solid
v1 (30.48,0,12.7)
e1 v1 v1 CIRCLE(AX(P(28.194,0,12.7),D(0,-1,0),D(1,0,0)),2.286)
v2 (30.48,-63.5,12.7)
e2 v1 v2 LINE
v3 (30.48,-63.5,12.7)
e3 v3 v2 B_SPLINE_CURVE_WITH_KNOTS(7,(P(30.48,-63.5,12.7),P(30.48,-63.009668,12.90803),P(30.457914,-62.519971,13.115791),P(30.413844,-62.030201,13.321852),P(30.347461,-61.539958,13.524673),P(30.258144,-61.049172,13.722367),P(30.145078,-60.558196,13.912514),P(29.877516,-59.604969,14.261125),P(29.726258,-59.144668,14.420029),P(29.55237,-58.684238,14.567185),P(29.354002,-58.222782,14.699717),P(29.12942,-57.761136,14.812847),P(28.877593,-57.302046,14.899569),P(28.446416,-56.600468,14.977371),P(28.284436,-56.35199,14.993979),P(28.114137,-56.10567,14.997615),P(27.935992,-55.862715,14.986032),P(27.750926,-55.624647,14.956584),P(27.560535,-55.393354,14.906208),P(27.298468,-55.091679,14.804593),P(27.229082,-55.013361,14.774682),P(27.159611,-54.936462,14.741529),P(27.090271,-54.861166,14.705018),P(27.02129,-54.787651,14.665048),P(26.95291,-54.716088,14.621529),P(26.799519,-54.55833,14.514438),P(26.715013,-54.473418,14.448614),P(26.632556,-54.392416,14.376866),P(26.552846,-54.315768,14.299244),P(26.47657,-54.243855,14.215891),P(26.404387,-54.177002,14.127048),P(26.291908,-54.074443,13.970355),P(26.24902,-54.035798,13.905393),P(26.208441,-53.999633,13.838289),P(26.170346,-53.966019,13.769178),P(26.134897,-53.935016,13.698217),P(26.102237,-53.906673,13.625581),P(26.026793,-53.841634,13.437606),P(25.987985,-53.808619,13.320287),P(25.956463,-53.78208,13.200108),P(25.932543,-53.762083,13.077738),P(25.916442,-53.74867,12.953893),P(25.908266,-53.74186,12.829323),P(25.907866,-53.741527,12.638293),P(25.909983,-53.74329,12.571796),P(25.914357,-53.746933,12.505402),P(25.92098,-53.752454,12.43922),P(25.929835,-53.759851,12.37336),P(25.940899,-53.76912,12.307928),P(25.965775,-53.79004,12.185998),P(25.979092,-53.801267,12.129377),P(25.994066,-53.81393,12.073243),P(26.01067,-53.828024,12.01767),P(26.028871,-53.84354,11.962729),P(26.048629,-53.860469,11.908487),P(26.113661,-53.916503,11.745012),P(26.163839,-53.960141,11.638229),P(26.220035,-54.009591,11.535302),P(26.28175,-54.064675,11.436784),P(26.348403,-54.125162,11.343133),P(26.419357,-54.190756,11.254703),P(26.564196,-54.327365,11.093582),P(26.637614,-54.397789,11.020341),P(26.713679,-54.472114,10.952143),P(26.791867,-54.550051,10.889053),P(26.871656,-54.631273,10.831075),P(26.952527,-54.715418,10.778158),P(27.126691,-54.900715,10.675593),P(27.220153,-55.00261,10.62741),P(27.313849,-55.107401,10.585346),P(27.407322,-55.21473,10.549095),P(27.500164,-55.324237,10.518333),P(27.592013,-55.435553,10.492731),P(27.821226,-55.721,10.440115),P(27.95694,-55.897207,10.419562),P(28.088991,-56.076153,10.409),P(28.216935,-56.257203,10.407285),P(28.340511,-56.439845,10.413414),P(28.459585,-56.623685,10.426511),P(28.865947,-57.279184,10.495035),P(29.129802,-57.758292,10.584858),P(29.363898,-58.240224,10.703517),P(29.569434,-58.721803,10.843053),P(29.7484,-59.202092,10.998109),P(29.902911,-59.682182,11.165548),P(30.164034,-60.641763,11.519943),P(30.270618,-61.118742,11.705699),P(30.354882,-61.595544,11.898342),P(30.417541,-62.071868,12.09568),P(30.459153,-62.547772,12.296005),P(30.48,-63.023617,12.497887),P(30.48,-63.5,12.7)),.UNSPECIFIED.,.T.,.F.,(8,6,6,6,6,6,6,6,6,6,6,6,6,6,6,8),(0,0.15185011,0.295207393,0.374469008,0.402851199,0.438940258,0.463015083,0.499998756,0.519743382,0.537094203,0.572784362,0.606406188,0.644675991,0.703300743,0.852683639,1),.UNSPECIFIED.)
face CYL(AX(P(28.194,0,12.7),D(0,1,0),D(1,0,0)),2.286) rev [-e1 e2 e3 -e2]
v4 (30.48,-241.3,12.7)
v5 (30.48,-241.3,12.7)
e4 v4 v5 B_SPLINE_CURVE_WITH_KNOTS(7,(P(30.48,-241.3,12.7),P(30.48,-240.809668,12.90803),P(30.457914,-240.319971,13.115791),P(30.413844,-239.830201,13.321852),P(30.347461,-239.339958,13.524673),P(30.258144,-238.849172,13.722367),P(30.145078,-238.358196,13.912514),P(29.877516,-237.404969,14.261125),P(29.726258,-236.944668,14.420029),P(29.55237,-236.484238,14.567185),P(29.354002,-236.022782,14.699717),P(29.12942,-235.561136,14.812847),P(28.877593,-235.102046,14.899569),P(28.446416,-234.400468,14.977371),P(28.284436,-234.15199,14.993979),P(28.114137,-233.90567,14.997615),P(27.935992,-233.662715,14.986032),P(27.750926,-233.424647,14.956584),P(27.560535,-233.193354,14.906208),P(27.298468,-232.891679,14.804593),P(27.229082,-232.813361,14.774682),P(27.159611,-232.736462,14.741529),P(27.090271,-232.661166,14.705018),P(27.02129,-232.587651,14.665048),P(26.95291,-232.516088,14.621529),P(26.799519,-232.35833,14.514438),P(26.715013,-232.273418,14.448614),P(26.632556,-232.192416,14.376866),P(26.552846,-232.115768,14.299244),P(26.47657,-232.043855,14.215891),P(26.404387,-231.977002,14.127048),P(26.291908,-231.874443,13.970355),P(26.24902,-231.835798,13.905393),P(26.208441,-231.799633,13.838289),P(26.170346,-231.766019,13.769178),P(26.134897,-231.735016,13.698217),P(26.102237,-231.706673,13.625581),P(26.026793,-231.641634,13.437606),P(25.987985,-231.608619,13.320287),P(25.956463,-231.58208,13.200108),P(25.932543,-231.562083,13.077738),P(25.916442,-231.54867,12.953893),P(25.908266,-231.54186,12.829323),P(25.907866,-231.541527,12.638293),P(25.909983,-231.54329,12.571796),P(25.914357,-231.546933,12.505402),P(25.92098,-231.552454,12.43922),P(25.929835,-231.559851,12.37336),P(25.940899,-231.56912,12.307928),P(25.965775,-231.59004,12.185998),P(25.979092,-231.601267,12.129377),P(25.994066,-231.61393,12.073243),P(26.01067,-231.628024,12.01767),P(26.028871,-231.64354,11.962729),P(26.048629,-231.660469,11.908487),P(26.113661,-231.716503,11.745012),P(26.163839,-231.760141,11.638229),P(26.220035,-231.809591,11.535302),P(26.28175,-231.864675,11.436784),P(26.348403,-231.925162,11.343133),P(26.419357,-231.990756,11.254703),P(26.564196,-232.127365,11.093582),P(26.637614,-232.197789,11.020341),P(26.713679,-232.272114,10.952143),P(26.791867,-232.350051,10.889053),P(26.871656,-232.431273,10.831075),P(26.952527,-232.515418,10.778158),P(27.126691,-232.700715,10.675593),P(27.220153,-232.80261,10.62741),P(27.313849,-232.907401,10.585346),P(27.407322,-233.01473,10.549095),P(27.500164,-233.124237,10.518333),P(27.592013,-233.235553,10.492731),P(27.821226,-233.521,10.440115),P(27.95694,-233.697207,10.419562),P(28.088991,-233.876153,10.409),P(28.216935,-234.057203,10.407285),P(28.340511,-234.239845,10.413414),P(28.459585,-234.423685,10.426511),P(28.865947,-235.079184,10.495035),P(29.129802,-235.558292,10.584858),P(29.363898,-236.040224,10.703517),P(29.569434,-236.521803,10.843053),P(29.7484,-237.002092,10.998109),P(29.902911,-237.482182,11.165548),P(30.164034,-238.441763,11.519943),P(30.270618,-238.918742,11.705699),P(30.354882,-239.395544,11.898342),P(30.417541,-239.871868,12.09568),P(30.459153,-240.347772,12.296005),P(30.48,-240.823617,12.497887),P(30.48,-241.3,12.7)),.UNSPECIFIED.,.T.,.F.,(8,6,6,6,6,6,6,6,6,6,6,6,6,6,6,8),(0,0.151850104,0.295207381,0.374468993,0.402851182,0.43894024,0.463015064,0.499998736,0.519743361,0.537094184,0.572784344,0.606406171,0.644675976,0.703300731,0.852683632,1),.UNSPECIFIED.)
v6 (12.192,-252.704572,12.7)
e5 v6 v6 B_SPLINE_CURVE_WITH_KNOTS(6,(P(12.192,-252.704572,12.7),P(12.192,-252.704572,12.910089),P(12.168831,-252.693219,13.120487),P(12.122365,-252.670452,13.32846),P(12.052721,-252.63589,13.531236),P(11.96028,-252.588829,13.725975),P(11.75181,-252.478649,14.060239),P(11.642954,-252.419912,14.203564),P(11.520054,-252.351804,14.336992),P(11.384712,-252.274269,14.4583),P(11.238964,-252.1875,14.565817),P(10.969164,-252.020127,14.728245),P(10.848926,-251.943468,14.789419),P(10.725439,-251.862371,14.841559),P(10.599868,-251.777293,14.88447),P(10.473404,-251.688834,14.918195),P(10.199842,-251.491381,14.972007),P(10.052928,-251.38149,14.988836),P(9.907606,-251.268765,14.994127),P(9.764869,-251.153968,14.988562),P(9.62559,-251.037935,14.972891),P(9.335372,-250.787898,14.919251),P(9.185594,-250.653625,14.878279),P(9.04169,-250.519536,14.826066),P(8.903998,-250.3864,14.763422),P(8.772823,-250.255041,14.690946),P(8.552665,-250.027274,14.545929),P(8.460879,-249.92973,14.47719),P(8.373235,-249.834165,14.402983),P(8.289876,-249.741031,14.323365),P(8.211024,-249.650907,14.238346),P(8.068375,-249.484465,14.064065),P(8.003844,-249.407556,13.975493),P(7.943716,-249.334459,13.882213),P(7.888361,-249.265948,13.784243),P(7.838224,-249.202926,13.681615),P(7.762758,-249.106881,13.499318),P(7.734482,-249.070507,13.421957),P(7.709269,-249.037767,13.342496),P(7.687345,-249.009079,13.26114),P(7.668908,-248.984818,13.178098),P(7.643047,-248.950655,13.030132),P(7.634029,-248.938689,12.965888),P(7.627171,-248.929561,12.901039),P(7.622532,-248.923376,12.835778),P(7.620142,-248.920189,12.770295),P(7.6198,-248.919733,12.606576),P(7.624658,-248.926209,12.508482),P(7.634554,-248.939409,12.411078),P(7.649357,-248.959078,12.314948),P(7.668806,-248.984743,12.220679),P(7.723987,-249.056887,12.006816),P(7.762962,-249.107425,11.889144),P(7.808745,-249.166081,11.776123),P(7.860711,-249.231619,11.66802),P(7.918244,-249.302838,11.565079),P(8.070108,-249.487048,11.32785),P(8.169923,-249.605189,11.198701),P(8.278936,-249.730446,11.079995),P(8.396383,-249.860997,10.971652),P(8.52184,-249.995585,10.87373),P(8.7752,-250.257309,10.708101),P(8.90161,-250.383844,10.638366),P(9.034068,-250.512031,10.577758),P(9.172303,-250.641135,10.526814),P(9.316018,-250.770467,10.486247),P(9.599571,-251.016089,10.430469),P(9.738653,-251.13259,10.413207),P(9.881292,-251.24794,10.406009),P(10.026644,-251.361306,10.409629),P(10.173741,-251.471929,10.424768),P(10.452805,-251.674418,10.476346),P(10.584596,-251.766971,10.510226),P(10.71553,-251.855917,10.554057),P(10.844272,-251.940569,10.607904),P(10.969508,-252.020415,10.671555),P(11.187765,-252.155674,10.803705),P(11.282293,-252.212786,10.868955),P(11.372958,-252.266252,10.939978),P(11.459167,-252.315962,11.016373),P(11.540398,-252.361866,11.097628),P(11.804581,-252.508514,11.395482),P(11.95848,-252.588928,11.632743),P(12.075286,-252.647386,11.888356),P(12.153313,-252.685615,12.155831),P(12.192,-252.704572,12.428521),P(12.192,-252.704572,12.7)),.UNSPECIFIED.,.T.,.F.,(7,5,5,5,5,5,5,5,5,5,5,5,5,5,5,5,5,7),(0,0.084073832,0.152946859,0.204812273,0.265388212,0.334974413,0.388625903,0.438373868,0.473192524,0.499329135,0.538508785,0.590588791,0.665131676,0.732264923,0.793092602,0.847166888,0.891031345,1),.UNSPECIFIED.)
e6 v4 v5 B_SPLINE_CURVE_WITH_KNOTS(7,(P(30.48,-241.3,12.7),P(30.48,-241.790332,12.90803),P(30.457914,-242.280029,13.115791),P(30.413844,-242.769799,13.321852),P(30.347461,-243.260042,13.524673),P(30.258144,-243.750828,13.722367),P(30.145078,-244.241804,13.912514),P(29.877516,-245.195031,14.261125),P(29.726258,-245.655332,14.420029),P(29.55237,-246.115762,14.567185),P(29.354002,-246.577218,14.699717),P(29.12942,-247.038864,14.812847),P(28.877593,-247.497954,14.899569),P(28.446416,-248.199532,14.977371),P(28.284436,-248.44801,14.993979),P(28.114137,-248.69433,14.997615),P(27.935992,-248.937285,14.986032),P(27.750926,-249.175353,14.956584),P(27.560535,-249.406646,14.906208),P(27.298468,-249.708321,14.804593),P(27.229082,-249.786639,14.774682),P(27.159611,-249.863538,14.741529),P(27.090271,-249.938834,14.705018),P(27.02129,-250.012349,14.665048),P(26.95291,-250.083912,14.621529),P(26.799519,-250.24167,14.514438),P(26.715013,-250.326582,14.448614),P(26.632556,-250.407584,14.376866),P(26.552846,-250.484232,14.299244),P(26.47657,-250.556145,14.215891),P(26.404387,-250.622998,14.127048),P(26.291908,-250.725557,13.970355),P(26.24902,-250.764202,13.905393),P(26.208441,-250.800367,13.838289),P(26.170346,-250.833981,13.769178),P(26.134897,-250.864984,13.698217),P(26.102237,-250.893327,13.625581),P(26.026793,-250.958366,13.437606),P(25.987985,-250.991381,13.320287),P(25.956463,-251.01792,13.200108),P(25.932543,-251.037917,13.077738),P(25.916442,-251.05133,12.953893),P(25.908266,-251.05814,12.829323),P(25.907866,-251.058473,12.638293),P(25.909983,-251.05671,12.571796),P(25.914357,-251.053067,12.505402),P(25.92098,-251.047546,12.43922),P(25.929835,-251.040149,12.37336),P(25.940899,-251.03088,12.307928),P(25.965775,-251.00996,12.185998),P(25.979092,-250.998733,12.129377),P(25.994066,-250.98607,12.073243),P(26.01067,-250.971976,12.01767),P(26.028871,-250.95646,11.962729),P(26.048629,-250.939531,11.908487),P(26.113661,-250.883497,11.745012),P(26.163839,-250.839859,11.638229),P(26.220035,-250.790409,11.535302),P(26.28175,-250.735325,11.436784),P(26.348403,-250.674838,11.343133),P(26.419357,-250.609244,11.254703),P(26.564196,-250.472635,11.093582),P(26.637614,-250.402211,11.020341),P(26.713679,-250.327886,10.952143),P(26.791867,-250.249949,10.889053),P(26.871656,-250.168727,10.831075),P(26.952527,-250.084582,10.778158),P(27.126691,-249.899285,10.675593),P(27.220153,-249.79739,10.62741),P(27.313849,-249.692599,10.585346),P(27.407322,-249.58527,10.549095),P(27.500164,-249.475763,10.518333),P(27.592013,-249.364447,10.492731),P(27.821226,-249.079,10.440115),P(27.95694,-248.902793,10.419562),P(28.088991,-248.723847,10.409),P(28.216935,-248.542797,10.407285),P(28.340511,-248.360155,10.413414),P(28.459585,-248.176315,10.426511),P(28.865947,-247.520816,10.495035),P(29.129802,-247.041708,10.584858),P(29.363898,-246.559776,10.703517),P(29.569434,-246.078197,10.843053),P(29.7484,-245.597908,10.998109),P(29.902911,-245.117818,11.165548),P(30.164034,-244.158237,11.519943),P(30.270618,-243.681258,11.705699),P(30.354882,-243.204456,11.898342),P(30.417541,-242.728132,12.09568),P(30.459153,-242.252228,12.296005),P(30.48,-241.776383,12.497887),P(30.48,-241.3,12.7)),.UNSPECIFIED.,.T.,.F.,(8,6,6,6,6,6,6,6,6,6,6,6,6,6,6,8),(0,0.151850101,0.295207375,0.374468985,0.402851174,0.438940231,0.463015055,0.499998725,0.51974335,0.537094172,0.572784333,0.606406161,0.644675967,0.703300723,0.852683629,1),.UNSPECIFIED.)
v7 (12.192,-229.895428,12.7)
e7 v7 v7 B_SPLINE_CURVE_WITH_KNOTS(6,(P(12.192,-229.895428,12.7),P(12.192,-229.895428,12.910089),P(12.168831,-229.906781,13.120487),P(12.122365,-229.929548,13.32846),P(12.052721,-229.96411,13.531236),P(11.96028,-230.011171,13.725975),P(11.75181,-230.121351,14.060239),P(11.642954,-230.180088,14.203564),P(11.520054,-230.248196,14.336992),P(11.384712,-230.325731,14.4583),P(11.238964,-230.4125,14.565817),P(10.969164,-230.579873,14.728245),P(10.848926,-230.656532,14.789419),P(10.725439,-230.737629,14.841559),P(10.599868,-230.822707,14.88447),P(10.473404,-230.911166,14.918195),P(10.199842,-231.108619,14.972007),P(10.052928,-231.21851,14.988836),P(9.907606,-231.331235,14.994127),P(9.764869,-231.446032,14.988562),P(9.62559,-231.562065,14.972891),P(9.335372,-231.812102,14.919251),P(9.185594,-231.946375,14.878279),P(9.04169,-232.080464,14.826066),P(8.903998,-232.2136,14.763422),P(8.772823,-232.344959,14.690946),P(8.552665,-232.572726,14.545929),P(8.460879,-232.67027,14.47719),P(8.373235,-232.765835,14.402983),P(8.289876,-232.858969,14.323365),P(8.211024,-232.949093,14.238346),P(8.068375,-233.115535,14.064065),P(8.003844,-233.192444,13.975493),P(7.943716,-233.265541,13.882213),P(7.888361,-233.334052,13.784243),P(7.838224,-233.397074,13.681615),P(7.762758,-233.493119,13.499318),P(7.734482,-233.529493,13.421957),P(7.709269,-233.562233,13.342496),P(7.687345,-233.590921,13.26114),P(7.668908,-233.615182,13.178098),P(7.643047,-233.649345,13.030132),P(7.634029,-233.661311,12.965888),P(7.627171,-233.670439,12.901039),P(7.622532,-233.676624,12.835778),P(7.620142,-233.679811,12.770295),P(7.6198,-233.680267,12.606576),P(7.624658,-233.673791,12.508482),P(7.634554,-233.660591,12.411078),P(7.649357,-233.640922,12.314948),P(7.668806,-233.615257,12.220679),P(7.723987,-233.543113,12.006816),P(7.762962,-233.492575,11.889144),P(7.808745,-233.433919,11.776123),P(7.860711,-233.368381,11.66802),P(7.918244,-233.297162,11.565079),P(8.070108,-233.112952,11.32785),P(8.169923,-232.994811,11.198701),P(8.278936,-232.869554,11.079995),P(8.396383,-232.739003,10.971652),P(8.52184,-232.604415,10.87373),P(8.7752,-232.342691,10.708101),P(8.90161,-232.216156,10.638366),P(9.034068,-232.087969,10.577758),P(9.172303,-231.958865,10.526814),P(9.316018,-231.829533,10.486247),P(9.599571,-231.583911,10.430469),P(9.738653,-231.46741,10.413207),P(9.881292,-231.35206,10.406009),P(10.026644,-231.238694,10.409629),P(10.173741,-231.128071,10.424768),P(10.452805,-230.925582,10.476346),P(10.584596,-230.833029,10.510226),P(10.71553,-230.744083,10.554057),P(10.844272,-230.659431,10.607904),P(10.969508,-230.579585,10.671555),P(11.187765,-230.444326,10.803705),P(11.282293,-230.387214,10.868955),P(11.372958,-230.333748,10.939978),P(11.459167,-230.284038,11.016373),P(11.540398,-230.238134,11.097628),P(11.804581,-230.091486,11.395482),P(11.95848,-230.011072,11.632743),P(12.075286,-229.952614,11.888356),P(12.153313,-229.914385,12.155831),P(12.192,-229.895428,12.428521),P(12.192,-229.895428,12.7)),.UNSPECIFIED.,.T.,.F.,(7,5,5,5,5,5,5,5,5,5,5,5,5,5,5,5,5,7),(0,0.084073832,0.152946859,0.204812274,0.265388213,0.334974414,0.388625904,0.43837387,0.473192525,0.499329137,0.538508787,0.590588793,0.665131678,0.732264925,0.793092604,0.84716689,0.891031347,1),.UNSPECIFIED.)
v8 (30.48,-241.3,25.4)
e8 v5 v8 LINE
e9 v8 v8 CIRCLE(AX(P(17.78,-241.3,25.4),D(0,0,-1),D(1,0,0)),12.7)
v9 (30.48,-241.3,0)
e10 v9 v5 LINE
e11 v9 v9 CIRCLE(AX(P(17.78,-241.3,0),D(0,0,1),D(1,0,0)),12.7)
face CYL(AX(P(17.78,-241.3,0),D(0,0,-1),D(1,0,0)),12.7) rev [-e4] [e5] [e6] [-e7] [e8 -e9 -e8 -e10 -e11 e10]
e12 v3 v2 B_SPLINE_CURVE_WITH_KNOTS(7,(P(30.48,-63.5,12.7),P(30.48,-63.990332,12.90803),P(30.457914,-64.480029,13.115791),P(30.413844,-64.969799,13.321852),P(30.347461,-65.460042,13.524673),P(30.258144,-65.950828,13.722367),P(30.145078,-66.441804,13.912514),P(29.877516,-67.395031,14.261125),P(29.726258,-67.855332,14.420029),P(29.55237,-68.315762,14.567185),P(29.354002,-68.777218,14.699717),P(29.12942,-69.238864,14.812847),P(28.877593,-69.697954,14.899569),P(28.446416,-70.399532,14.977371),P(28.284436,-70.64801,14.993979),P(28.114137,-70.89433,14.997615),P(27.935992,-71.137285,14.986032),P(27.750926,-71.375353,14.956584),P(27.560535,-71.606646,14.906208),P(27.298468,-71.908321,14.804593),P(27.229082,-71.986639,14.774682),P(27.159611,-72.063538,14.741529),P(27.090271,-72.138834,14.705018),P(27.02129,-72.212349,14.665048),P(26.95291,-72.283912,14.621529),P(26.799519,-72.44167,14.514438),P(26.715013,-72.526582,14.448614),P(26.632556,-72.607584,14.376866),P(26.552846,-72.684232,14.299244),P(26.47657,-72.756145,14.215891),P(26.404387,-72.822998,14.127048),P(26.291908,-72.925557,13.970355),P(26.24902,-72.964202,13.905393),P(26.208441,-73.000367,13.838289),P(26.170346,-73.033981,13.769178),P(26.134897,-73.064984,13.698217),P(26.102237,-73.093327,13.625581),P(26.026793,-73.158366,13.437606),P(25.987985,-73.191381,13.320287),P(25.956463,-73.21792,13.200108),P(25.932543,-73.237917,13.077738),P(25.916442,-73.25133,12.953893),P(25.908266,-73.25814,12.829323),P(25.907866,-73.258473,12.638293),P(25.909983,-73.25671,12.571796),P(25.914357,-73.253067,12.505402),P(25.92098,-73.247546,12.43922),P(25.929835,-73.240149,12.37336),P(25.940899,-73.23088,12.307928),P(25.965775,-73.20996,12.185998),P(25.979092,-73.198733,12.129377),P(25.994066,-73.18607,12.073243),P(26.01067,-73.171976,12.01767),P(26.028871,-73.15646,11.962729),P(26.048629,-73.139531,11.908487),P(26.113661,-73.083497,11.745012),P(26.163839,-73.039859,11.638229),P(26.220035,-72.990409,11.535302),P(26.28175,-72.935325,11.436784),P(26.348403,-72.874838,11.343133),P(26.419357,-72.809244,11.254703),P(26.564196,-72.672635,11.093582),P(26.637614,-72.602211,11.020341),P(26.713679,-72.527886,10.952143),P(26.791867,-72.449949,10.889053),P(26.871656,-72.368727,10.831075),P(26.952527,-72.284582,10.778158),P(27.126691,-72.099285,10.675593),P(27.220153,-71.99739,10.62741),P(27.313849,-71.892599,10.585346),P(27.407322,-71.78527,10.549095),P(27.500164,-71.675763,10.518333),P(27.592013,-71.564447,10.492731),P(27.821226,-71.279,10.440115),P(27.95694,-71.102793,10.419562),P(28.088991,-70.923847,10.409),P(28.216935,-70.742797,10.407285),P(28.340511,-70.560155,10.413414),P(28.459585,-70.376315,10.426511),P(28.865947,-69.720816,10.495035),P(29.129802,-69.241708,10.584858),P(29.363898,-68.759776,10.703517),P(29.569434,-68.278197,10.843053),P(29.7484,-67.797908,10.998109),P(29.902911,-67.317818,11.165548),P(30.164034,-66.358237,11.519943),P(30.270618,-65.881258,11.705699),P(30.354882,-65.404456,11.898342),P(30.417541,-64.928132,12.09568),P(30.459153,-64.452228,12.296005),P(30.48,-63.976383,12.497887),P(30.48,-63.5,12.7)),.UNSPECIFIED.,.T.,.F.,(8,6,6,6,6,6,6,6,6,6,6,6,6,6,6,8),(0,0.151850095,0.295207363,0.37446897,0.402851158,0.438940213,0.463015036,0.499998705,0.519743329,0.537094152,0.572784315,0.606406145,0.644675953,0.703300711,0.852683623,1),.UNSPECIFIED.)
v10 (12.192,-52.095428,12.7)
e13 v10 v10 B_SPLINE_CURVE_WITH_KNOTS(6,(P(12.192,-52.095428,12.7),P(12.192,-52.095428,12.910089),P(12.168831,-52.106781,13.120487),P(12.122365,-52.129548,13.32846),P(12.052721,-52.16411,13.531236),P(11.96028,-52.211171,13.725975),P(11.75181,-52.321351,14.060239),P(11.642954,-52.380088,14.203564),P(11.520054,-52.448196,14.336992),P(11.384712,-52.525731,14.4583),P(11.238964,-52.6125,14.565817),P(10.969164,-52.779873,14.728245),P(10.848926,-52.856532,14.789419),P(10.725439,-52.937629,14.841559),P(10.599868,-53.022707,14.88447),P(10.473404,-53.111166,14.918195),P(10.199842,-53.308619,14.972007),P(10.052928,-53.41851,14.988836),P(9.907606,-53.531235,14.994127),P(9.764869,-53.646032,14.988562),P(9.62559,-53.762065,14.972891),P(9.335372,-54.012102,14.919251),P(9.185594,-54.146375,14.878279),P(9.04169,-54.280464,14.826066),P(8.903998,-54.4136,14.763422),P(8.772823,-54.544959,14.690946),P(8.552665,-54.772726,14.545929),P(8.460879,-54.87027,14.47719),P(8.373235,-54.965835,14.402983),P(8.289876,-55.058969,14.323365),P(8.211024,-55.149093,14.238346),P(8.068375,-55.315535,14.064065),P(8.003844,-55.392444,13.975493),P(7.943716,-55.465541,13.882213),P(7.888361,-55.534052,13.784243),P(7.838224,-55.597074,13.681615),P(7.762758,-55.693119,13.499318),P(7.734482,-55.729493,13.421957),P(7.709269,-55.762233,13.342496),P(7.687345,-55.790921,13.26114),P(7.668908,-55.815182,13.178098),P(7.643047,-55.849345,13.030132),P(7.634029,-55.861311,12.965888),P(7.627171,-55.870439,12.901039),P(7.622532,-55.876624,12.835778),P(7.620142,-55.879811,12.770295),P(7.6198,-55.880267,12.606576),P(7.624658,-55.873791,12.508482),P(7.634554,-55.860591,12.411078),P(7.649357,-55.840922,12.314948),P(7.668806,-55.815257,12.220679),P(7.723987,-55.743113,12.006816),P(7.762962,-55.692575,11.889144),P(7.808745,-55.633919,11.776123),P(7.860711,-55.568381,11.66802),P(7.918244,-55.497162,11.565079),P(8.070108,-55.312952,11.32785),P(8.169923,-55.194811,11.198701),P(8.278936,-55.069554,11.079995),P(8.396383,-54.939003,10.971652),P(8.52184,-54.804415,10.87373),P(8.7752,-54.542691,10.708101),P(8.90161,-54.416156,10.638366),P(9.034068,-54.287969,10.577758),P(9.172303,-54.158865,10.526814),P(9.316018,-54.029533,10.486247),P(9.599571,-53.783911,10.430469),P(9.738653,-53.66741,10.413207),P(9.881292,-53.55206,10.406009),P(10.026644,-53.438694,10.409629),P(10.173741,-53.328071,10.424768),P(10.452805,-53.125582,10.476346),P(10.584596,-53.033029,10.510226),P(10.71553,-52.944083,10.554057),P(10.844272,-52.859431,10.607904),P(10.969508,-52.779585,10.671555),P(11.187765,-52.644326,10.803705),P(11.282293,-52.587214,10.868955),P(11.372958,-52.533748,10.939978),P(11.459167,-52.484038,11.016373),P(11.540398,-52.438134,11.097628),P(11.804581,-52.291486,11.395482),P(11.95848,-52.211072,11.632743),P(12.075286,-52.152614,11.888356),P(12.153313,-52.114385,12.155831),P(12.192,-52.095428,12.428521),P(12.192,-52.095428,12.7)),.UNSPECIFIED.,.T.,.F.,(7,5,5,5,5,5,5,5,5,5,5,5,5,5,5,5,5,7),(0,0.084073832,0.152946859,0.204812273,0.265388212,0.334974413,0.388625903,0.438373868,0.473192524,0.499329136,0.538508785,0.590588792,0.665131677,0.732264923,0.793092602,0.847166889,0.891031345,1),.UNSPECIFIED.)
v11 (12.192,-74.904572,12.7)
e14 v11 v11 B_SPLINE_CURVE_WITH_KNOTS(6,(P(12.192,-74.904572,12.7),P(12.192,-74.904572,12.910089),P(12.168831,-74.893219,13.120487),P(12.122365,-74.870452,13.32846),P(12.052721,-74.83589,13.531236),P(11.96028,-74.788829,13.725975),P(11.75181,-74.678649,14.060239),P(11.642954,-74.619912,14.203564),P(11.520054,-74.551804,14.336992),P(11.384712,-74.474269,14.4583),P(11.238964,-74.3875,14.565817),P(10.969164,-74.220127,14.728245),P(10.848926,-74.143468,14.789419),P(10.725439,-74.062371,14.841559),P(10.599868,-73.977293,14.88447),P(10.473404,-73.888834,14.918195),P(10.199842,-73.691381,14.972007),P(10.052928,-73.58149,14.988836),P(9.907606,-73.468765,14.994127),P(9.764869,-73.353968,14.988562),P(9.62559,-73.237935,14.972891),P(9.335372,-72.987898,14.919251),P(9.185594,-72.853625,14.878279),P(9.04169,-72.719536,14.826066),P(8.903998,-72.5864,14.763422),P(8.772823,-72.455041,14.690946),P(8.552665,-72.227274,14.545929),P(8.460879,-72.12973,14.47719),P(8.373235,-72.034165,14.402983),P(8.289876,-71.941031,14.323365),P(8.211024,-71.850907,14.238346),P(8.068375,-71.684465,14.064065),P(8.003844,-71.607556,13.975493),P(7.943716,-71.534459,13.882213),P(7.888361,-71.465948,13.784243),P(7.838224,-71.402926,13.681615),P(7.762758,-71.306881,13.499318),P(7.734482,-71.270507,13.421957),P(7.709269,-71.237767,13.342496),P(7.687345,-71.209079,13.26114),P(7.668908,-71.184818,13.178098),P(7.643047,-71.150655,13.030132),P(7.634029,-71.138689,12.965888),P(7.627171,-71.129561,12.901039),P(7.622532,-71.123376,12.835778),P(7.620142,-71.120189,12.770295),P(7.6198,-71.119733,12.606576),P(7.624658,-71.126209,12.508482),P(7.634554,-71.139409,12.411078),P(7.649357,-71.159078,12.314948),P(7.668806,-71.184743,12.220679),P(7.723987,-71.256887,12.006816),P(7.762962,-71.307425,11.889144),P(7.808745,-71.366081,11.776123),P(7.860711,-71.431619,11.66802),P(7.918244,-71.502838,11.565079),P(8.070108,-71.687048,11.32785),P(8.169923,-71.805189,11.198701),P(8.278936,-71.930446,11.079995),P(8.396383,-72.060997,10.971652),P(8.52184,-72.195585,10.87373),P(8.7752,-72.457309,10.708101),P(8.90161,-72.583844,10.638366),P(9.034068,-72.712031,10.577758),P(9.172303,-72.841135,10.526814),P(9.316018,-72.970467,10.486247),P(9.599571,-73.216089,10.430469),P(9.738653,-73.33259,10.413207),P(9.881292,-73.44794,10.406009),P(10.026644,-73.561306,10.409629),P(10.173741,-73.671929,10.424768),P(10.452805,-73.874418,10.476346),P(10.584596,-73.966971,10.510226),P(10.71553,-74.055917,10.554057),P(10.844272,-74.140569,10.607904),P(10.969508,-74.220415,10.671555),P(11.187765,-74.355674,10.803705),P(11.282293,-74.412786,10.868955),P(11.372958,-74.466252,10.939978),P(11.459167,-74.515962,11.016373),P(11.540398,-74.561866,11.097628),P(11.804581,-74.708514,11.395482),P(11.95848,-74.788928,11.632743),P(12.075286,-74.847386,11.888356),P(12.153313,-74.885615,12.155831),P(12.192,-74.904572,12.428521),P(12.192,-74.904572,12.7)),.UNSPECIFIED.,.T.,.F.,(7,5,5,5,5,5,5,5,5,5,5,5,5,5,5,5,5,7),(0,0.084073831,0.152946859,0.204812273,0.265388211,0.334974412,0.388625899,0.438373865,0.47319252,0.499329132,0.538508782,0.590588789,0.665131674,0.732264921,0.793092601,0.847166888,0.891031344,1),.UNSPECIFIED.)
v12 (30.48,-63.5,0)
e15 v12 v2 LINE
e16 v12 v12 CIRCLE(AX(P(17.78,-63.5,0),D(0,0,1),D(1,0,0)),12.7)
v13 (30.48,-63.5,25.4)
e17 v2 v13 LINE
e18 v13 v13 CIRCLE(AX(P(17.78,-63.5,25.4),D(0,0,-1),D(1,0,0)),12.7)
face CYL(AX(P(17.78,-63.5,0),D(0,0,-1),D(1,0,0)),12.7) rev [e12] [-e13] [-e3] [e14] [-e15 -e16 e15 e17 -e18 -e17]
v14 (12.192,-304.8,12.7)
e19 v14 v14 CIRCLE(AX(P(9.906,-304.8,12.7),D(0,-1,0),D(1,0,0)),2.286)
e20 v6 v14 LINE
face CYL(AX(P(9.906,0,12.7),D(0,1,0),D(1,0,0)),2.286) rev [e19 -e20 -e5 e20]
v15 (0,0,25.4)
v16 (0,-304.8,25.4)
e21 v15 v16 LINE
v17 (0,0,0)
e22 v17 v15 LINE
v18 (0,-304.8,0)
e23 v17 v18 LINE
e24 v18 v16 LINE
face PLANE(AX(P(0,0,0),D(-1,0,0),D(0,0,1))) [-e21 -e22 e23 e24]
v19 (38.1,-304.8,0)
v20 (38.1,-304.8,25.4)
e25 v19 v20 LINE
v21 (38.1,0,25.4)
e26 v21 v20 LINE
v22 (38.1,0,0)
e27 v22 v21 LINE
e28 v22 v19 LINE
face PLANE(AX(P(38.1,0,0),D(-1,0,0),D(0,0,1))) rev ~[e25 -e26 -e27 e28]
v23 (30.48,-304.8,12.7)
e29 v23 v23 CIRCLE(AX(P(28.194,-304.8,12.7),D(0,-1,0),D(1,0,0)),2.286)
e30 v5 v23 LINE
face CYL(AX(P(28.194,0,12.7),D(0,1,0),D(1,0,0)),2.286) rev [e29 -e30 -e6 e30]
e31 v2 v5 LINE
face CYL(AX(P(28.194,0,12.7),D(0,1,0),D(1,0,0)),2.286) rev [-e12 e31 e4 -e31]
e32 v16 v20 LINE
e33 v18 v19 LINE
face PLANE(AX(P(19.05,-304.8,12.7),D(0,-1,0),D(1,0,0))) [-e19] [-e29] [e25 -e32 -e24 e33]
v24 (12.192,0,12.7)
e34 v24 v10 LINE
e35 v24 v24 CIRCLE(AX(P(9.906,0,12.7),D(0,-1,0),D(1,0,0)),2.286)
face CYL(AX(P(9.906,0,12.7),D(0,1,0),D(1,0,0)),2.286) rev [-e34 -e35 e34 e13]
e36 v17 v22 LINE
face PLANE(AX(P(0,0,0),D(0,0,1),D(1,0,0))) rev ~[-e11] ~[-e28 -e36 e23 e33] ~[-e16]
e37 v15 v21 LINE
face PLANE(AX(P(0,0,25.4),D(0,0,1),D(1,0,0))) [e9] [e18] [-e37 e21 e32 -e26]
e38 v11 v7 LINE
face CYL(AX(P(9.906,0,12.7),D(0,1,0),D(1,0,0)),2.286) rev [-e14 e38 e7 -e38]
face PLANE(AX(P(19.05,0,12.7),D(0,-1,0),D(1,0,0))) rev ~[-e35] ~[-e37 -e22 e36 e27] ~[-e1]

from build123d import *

# Parameters (mm, degrees)
F0_W     = 38.1
F0_H     = 25.4
F0_R     = 2.286
F1_DEPTH = 304.8
F2_R     = 12.7
F3_DEPTH = 25.401


with BuildPart() as f1:
    # F0 (on Front) → F1 (new body)
    with BuildSketch(Plane.XZ):
        with Locations((19.05, 12.7)):
            Rectangle(F0_W, F0_H)
        with Locations((9.906, 12.7)):
            Circle(F0_R, mode=Mode.SUBTRACT)
        with Locations((28.194, 12.7)):
            Circle(F0_R, mode=Mode.SUBTRACT)
    extrude(amount=F1_DEPTH)

    # F2 (on Top) → F3 (cut, through all)
    with BuildSketch(Plane.XY):
        with Locations((17.78, -241.3)):
            Circle(F2_R)
        with Locations((17.78, -63.5)):
            Circle(F2_R)
    extrude(amount=F3_DEPTH, mode=Mode.SUBTRACT)


solid = f1.part
